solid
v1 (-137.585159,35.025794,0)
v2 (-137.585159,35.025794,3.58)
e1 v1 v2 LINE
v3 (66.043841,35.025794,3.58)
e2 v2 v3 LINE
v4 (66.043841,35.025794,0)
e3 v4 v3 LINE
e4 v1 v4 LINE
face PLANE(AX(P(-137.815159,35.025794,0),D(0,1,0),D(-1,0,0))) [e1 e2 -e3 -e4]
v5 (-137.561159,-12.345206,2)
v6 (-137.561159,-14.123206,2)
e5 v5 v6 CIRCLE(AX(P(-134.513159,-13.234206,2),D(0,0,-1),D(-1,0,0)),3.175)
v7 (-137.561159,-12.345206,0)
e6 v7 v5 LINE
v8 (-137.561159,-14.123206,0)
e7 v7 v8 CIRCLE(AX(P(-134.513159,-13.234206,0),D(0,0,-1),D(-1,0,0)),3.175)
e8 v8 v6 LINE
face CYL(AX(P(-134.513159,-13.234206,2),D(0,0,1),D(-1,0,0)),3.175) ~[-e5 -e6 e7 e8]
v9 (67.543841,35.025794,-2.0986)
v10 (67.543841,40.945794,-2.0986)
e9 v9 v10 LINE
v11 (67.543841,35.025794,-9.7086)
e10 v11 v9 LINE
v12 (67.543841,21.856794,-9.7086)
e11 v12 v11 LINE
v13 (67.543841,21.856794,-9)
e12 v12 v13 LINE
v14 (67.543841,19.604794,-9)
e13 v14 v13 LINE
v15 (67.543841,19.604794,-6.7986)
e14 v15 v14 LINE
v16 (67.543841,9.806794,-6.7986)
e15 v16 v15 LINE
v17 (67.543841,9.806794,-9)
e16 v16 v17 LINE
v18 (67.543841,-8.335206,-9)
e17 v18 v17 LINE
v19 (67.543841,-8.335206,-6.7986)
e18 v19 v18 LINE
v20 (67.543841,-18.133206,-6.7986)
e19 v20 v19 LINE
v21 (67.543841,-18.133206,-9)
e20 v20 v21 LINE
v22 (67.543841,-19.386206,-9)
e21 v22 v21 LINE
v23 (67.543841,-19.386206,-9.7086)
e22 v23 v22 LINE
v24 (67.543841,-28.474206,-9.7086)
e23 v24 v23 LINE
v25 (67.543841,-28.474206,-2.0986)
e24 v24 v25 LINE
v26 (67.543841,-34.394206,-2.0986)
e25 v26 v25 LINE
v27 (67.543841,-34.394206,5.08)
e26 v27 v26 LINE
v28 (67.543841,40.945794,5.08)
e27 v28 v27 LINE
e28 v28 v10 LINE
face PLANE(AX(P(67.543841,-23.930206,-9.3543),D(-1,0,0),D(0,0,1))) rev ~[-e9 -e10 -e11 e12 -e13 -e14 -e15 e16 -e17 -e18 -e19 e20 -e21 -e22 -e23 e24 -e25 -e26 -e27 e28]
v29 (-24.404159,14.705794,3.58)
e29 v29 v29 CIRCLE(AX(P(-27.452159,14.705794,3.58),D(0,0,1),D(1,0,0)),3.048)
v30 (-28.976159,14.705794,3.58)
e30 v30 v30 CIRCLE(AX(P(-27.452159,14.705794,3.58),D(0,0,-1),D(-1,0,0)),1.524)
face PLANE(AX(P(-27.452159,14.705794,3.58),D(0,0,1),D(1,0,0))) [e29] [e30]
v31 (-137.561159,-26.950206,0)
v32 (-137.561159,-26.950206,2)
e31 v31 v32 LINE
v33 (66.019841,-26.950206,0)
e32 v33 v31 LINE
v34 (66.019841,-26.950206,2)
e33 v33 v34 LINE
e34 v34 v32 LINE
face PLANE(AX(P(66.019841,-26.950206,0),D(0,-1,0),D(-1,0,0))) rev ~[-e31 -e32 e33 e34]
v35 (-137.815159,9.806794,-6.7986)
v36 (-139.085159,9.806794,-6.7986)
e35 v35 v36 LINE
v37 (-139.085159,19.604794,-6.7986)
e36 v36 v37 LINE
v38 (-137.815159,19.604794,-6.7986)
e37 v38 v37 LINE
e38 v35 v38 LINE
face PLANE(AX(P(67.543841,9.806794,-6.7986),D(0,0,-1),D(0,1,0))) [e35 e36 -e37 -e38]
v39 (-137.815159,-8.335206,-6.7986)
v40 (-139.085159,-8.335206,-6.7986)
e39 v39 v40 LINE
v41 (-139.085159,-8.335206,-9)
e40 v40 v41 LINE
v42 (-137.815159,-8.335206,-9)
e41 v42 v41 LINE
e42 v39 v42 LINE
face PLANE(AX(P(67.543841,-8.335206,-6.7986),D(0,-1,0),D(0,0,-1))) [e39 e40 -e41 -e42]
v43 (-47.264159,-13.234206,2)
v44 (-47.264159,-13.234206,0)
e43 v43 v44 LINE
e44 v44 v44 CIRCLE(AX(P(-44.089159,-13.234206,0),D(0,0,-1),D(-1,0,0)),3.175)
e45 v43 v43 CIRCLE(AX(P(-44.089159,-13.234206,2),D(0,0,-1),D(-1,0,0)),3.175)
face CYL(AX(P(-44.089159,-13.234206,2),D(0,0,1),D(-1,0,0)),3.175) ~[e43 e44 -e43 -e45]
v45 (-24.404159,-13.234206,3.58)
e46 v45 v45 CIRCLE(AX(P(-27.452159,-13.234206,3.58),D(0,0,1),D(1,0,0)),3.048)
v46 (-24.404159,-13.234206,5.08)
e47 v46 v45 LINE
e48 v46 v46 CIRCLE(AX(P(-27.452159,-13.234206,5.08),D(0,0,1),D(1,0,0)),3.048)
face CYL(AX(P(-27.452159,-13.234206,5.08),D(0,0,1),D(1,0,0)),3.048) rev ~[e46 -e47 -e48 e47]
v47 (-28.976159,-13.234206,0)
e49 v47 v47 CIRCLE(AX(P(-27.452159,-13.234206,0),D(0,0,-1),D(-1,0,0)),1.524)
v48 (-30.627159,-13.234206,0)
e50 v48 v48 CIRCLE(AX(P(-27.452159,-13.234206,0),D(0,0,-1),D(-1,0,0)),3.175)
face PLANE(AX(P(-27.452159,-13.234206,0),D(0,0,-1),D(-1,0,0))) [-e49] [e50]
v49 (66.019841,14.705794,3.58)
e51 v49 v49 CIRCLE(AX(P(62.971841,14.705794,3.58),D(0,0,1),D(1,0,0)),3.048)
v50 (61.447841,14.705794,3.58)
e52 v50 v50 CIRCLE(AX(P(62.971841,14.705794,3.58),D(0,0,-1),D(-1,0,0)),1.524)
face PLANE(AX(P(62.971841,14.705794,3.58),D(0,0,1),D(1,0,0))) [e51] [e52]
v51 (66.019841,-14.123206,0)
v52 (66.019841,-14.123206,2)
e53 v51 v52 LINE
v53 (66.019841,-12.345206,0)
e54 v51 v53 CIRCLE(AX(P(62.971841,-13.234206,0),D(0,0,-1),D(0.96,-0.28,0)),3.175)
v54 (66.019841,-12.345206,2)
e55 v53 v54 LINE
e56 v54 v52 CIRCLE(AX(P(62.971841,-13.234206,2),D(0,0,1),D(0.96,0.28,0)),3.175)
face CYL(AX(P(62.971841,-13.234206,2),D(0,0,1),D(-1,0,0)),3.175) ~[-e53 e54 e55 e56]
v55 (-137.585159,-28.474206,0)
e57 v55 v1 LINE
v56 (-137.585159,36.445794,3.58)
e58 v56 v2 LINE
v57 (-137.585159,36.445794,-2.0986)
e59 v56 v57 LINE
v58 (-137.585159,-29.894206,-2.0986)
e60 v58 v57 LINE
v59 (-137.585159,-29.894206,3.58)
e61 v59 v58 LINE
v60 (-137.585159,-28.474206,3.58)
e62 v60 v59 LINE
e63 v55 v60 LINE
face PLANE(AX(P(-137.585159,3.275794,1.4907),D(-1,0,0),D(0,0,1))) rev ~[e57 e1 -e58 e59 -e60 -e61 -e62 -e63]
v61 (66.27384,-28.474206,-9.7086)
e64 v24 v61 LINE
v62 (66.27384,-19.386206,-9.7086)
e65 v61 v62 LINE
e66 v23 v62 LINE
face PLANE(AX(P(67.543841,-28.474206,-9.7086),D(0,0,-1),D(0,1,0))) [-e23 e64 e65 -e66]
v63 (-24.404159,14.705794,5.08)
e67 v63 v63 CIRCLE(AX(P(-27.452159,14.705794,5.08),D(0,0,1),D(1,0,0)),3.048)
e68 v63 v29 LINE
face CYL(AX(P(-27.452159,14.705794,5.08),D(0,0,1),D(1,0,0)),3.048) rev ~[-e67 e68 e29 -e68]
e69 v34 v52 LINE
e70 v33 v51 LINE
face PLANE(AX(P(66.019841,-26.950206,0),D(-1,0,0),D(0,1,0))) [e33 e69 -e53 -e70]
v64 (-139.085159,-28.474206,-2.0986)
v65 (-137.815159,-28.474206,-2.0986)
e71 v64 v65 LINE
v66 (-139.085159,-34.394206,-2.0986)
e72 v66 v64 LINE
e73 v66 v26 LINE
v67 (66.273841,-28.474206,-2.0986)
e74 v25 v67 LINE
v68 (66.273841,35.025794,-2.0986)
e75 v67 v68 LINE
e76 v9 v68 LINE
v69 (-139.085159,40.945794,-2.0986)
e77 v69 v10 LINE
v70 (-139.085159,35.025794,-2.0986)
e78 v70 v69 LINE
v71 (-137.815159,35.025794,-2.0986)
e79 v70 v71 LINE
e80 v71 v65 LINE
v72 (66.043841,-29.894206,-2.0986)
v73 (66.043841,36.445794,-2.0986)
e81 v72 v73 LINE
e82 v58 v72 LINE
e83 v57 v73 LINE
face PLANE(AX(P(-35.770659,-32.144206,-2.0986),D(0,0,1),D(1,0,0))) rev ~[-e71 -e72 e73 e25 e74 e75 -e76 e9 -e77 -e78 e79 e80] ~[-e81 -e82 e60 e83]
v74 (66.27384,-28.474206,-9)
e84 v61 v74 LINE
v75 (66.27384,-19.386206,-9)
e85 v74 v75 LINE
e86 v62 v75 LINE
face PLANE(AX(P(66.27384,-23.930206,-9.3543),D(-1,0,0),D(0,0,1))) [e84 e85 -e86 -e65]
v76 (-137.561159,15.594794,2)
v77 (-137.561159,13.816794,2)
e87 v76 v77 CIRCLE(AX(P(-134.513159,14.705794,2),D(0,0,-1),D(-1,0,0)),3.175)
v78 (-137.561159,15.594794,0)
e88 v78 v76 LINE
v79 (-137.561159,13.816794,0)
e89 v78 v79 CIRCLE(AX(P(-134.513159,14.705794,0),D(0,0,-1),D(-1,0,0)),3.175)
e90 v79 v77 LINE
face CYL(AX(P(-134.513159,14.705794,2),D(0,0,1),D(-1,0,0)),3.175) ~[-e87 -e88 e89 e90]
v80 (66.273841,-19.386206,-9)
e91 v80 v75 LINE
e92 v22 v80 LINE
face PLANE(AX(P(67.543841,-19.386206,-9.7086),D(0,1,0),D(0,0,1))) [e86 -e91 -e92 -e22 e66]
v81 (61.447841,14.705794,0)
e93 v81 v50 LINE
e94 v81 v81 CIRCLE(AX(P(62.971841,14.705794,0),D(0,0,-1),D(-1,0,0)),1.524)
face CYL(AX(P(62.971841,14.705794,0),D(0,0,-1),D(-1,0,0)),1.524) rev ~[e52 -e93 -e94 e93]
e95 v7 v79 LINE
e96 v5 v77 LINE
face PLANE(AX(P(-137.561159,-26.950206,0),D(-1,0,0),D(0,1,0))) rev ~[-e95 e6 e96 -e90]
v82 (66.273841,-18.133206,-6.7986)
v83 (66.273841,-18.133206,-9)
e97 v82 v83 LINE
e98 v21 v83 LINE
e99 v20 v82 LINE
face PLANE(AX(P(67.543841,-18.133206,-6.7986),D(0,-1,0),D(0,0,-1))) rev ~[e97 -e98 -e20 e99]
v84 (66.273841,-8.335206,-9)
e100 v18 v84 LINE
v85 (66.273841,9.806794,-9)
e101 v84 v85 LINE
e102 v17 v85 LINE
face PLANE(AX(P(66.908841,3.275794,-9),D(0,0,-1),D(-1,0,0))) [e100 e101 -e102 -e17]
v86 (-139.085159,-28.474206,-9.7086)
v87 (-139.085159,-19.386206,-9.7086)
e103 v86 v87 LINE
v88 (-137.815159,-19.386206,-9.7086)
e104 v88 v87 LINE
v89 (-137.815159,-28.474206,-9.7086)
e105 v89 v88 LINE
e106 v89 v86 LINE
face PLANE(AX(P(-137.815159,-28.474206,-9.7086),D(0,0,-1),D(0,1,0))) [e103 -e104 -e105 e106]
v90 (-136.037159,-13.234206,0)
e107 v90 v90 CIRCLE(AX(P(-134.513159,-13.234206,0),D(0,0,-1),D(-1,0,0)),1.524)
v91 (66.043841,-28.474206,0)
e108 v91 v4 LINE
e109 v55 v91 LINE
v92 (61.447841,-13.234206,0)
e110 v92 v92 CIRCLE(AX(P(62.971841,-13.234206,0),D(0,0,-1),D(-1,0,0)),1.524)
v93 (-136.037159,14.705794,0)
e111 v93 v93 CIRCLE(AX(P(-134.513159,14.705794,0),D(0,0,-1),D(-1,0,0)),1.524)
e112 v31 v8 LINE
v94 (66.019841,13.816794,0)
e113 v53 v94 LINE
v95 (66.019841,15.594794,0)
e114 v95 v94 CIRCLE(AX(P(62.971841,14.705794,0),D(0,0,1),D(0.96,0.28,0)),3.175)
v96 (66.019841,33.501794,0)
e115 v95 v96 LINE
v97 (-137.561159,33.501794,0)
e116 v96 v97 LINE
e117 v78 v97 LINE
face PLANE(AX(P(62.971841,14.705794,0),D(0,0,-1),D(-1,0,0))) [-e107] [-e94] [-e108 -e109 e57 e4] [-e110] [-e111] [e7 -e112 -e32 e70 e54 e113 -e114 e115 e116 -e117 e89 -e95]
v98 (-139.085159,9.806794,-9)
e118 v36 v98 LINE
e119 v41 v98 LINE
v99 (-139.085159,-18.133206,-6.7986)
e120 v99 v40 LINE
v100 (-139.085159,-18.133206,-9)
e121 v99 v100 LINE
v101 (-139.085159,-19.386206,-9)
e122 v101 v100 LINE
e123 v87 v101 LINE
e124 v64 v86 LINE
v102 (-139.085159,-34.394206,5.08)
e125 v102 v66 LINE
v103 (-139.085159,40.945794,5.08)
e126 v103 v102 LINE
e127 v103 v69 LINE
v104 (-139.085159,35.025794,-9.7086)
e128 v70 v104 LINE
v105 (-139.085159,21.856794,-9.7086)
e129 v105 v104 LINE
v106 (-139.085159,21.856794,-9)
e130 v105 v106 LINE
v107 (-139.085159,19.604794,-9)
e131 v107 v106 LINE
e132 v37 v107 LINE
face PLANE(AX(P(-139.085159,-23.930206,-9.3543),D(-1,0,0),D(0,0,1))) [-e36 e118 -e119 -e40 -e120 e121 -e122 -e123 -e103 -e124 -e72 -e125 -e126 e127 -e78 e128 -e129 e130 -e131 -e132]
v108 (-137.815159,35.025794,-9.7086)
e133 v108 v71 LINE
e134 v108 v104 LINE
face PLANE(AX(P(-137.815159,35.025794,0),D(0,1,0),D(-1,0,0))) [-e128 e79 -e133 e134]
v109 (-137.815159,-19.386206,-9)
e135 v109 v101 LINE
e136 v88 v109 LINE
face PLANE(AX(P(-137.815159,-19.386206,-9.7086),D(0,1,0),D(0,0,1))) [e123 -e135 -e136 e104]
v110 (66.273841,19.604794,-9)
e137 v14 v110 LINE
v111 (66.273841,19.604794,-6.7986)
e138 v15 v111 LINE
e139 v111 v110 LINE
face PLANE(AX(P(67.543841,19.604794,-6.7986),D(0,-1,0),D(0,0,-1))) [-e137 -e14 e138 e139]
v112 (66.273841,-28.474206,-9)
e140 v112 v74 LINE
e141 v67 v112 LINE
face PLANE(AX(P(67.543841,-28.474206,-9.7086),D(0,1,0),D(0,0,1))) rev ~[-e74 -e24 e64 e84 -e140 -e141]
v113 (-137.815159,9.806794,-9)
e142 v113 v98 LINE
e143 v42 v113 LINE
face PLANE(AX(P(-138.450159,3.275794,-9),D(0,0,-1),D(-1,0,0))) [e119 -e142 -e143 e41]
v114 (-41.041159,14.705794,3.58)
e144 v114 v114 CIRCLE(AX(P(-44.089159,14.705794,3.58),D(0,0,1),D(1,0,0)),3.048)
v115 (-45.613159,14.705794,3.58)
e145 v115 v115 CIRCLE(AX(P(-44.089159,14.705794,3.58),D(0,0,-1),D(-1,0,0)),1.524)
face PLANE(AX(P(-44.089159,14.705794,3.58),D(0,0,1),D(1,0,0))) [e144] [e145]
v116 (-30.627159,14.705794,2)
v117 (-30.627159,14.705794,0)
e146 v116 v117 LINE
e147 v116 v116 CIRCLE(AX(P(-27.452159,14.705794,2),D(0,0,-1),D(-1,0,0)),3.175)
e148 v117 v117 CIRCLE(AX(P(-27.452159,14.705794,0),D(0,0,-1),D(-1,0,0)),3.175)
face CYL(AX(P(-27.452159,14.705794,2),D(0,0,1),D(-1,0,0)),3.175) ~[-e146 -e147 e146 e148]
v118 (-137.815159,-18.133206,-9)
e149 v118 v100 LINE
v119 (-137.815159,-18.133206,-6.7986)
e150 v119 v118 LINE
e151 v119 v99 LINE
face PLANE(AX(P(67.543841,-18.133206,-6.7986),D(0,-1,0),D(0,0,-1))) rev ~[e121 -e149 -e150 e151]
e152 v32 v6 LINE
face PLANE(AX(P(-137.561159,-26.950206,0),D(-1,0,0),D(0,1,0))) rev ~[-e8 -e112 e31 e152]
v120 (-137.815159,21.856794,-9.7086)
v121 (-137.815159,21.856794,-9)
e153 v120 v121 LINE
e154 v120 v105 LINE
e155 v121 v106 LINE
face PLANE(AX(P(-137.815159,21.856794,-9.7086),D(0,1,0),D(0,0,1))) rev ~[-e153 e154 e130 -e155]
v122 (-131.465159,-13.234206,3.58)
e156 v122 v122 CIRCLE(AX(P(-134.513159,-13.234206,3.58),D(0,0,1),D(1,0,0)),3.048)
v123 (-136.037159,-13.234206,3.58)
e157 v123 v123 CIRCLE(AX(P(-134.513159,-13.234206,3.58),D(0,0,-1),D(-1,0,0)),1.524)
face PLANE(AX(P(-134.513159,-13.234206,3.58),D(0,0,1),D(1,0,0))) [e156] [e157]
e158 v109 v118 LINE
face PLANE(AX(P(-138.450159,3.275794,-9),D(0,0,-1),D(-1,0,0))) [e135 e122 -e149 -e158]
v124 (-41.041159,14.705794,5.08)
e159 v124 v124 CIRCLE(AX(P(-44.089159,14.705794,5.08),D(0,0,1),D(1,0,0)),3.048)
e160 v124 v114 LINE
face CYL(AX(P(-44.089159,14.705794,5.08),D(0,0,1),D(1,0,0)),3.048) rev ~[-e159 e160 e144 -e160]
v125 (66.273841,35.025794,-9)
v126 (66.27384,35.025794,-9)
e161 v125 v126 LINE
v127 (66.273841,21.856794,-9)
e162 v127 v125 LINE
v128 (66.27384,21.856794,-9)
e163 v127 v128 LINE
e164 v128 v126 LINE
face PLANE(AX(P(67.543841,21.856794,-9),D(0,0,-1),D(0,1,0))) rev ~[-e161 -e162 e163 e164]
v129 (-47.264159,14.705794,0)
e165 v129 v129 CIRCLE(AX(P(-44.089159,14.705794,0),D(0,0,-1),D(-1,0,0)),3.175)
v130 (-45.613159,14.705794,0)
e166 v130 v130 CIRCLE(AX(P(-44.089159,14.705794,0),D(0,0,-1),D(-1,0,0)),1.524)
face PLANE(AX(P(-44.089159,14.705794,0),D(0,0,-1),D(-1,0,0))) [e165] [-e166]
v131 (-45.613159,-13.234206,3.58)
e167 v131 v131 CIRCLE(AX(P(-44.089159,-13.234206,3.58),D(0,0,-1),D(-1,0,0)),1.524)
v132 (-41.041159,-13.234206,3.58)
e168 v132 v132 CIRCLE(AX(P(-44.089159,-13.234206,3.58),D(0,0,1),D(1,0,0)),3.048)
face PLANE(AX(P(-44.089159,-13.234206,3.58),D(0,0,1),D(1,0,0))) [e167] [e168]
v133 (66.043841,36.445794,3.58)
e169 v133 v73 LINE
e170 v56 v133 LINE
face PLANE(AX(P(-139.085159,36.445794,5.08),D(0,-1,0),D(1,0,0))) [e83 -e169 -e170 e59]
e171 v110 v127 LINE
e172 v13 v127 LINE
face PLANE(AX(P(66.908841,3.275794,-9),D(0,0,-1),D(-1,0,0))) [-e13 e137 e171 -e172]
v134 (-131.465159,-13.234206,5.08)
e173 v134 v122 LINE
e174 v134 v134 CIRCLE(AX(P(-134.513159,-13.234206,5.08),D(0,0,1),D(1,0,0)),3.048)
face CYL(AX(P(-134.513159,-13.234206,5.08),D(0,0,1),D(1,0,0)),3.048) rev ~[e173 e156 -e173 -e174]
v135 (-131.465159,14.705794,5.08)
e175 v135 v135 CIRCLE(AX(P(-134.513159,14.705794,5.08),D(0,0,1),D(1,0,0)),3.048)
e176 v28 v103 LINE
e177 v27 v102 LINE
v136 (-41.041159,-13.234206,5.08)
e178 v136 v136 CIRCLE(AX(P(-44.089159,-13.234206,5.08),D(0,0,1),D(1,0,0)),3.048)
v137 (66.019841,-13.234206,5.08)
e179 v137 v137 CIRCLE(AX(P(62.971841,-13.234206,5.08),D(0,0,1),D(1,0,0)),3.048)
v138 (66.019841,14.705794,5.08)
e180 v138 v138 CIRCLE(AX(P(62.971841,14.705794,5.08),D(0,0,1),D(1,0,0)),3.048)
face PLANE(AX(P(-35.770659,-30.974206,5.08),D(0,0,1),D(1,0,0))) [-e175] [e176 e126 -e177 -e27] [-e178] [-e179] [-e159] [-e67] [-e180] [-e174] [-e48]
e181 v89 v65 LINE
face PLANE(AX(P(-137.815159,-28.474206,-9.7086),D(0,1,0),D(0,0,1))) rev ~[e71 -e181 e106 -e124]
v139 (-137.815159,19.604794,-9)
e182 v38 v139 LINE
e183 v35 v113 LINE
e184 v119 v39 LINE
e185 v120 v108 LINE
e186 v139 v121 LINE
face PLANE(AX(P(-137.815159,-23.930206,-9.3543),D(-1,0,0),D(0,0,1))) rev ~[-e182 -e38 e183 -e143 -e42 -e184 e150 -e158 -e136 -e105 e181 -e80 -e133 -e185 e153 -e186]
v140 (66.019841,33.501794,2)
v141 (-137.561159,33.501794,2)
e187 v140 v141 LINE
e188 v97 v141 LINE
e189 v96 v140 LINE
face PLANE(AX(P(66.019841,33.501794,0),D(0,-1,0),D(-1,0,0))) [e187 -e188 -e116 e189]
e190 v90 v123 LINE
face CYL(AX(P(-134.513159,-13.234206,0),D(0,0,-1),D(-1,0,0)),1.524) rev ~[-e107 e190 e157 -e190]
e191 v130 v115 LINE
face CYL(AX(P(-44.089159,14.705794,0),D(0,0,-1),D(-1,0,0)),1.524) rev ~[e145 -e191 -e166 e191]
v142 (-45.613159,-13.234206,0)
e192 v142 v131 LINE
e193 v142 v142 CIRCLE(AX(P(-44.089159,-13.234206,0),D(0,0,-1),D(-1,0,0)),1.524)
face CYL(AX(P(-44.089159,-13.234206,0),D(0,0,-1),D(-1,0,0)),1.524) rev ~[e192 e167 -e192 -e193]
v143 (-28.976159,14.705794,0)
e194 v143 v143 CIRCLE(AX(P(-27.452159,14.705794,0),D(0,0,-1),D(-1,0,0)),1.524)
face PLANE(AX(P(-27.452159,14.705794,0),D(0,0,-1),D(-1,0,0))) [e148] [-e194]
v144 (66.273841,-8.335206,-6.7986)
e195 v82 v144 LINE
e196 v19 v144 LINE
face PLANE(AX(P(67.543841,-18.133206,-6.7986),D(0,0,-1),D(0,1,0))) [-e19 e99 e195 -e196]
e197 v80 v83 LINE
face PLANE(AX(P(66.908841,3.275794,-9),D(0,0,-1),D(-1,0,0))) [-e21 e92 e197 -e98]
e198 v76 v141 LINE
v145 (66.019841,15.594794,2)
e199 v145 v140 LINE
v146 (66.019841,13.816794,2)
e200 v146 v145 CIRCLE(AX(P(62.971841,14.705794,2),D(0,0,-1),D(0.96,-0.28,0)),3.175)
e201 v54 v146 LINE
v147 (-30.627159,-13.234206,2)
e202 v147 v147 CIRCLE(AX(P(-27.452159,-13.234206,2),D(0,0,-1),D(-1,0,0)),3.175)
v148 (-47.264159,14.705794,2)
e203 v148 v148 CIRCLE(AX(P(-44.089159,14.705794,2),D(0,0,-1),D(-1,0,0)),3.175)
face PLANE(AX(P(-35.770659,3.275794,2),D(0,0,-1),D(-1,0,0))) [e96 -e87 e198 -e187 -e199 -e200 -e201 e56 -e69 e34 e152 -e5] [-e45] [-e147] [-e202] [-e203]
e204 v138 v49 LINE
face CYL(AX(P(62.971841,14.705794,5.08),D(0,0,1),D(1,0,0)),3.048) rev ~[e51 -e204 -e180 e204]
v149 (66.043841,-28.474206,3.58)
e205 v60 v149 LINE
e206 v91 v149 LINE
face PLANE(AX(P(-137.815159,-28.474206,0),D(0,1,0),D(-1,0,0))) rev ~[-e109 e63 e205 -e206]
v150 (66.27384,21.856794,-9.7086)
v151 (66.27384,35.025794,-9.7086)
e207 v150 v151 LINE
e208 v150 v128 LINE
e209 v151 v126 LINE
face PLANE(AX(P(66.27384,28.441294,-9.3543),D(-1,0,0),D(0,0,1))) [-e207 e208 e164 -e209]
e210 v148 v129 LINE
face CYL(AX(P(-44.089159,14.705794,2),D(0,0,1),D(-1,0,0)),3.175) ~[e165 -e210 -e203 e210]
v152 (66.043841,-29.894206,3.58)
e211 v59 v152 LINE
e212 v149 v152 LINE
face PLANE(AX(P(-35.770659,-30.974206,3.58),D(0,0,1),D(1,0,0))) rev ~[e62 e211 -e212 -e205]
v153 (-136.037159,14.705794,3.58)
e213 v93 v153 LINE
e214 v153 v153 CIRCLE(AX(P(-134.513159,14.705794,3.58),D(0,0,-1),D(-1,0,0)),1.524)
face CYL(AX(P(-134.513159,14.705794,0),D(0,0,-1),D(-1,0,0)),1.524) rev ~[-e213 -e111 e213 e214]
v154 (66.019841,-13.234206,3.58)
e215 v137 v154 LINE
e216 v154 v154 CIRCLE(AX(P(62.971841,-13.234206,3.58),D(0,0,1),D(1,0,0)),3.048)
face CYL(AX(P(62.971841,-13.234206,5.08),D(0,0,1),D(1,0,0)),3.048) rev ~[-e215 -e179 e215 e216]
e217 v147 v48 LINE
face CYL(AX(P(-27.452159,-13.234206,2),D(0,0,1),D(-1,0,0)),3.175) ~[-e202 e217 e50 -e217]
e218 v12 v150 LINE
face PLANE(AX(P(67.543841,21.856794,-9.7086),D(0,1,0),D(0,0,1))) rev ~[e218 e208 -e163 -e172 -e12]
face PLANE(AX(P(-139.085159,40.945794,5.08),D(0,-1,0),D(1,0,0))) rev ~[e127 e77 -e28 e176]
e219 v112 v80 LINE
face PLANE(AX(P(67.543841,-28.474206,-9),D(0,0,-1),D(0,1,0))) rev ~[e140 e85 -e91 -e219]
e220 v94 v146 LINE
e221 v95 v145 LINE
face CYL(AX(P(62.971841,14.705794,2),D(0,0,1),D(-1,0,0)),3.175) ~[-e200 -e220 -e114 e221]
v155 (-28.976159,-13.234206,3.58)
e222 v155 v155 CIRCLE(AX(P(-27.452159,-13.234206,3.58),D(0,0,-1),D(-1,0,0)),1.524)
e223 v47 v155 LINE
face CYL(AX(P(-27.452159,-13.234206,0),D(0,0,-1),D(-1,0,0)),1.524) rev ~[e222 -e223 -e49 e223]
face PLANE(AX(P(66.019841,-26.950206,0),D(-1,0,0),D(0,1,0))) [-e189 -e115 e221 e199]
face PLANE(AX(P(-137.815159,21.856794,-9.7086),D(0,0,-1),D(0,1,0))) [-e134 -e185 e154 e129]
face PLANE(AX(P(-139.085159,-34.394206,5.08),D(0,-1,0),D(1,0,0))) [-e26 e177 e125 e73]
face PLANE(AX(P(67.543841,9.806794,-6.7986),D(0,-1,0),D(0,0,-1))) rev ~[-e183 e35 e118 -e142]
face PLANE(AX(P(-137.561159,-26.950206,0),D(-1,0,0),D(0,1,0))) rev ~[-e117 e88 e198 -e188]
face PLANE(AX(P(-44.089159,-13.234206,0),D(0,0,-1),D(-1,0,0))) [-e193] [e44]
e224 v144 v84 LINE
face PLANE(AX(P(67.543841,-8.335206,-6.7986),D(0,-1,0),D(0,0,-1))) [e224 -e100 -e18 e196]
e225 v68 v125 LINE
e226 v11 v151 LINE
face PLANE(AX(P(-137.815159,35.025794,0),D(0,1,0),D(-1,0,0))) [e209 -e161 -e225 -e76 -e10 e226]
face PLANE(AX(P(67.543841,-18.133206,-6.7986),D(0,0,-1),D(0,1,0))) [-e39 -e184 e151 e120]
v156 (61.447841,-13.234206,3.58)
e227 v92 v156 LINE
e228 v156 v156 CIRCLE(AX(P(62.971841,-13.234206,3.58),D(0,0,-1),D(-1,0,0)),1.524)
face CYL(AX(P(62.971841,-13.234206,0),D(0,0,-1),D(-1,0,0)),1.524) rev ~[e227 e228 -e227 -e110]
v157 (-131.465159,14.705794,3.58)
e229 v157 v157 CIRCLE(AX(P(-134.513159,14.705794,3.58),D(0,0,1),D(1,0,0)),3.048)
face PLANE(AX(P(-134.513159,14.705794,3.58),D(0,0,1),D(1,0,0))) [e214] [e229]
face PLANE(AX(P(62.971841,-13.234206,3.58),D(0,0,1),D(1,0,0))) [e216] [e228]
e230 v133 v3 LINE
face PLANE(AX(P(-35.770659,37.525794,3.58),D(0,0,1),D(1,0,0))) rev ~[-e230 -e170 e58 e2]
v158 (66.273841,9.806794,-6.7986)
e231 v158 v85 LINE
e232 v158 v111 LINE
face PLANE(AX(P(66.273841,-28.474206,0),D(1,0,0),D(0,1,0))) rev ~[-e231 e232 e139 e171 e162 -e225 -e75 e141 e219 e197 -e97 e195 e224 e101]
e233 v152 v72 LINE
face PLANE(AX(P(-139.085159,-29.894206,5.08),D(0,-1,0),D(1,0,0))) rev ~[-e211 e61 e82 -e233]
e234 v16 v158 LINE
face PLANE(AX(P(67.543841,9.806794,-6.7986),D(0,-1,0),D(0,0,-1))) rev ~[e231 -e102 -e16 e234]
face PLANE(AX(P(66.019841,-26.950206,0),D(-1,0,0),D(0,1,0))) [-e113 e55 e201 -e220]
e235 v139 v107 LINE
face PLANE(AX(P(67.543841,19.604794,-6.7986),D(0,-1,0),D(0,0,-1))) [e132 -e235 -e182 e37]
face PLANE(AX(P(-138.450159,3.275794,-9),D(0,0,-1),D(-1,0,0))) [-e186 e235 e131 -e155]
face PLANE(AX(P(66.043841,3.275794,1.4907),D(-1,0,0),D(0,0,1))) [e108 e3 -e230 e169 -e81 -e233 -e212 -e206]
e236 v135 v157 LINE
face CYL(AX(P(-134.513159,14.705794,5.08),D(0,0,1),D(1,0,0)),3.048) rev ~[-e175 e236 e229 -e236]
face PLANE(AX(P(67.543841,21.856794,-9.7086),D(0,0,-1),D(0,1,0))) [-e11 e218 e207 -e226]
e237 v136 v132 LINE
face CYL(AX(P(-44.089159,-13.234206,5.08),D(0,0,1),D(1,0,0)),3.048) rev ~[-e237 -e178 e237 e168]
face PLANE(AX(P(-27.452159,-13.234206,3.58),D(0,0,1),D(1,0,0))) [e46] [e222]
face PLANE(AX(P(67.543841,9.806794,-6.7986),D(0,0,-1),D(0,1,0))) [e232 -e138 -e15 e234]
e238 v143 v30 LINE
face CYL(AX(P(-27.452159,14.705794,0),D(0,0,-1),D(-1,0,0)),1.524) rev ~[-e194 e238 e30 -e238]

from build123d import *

# Parameters (mm, degrees)
SKETCH1_W                      = 206.629
SKETCH1_H                      = 63.5
BASE_DEPTH                     = 5.08
SKETCH2_W                      = 203.581
SKETCH2_H                      = 60.452
HOLLOW_DEPTH                   = 2.000000064
SKETCH3_W                      = 1.27
SKETCH3_H                      = 63.5
END_PIECES_DEPTH               = 9.000000034
SKETCH7_W                      = 2.201400112
SKETCH7_H                      = 9.798
WHERE_TOP_INTRUDES_DEPTH       = 210.769754403
CABLE_STOP_WINGS_ALT_W         = 206.629
CABLE_STOP_WINGS_ALT_H         = 5
CABLE_STOP_WING_BOSS_ALT_DEPTH = 1.500000048
SKETCH4_R                      = 3.175
SCREW_BOSSES_DEPTH             = 2.000000064
SKETCH5_R                      = 1.524
SCREW_HOLES_DEPTH              = 146.00946706
SKETCH6_R                      = 3.048
COUNTER_SINK_DEPTH             = 1.500000048
SKETCH25_W                     = 206.629
SKETCH25_H                     = 4.5
BOX_UNDER_CONNECTORS_DEPTH     = 7.1786
SKETCH26_W                     = 7.1786
SKETCH26_H                     = 75.34
FILL_ENDS_DEPTH                = 1.5
FILL_START                     = -206.629
SKETCH26_2_W                   = 7.1786
SKETCH26_2_H                   = 75.34
FILL_THE_OTHER_END_DEPTH       = 1.5
BOSS_EXTRUDE4_START            = -1.27
SKETCH27_W                     = 0.708599966
SKETCH27_H                     = 9.088
SKETCH27_H_2                   = 13.169
BOSS_EXTRUDE4_DEPTH            = 1.27
BOSS_EXTRUDE5_START            = -206.629
SKETCH27_2_W                   = 0.708599966
SKETCH27_2_H                   = 9.088
SKETCH27_2_H_2                 = 13.169
BOSS_EXTRUDE5_DEPTH            = 1.270001


with BuildPart() as part:
    # Sketch1 → base (new body)
    with BuildSketch(Plane.XY):
        with Locations((-35.77065873, 3.275793651)):
            Rectangle(SKETCH1_W, SKETCH1_H)
    extrude(amount=BASE_DEPTH)

    # Sketch2 → hollow (cut)
    with BuildSketch(Plane(origin=(0, 0, 0), x_dir=(-1, 0, 0), z_dir=(0, 0, -1))):
        with Locations((35.77065873, 3.275793651)):
            Rectangle(SKETCH2_W, SKETCH2_H)
    extrude(amount=-HOLLOW_DEPTH, mode=Mode.SUBTRACT)

    # Sketch3 → end pieces (add)
    with BuildSketch(Plane(origin=(0, 0, 0), x_dir=(-1, 0, 0), z_dir=(0, 0, -1))):
        with Locations((138.45015873, 3.275793651)):
            Rectangle(SKETCH3_W, SKETCH3_H)
        with Locations((-66.90884127, 3.275793651)):
            Rectangle(SKETCH3_W, SKETCH3_H)
    extrude(amount=END_PIECES_DEPTH)

    # Sketch7 → where top intrudes (cut, through all)
    with BuildSketch(Plane(origin=(67.54384127, 0, 0), x_dir=(0, 0, -1), z_dir=(1, 0, 0))):
        with Locations((7.899299978, 14.705793651)):
            Rectangle(SKETCH7_W, SKETCH7_H)
        with Locations((7.899299978, -13.234206349)):
            Rectangle(SKETCH7_W, SKETCH7_H)
    extrude(amount=-WHERE_TOP_INTRUDES_DEPTH, mode=Mode.SUBTRACT)

    # cable stop wings alt → cable stop wing boss alt (add)
    with BuildSketch(Plane.XY.offset(5.08)):
        with Locations((-35.77065873, -30.974206349)):
            Rectangle(CABLE_STOP_WINGS_ALT_W, CABLE_STOP_WINGS_ALT_H)
        with Locations((-35.77065873, 37.525793651)):
            Rectangle(CABLE_STOP_WINGS_ALT_W, CABLE_STOP_WINGS_ALT_H)
    extrude(amount=-CABLE_STOP_WING_BOSS_ALT_DEPTH)

    # Sketch4 → screw bosses (add)
    with BuildSketch(Plane(origin=(0, 0, 2.000000064), x_dir=(-1, 0, 0), z_dir=(0, 0, -1))):
        with Locations((-62.97184127, 14.705793651)):
            Circle(SKETCH4_R)
        with Locations((-62.97184127, -13.234206349)):
            Circle(SKETCH4_R)
        with Locations((27.45215873, -13.234206349)):
            Circle(SKETCH4_R)
        with Locations((44.08915873, -13.234206349)):
            Circle(SKETCH4_R)
        with Locations((27.45215873, 14.705793651)):
            Circle(SKETCH4_R)
        with Locations((44.08915873, 14.705793651)):
            Circle(SKETCH4_R)
        with Locations((134.51315873, 14.705793651)):
            Circle(SKETCH4_R)
        with Locations((134.51315873, -13.234206349)):
            Circle(SKETCH4_R)
    extrude(amount=SCREW_BOSSES_DEPTH)

    # Sketch5 → screw holes (cut, through all)
    with BuildSketch(Plane(origin=(0, 0, 0), x_dir=(-1, 0, 0), z_dir=(0, 0, -1))):
        with Locations((-62.97184127, 14.705793651)):
            Circle(SKETCH5_R)
        with Locations((-62.97184127, -13.234206349)):
            Circle(SKETCH5_R)
        with Locations((27.45215873, 14.705793651)):
            Circle(SKETCH5_R)
        with Locations((27.45215873, -13.234206349)):
            Circle(SKETCH5_R)
        with Locations((44.08915873, -13.234206349)):
            Circle(SKETCH5_R)
        with Locations((134.51315873, 14.705793651)):
            Circle(SKETCH5_R)
        with Locations((134.51315873, -13.234206349)):
            Circle(SKETCH5_R)
        with Locations((44.08915873, 14.705793651)):
            Circle(SKETCH5_R)
    extrude(amount=-SCREW_HOLES_DEPTH, mode=Mode.SUBTRACT)

    # Sketch6 → counter sink (cut)
    with BuildSketch(Plane.XY.offset(5.08)):
        with Locations((62.97184127, -13.234206349)):
            Circle(SKETCH6_R)
        with Locations((62.97184127, 14.705793651)):
            Circle(SKETCH6_R)
        with Locations((-27.45215873, -13.234206349)):
            Circle(SKETCH6_R)
        with Locations((-44.08915873, -13.234206349)):
            Circle(SKETCH6_R)
        with Locations((-27.45215873, 14.705793651)):
            Circle(SKETCH6_R)
        with Locations((-44.08915873, 14.705793651)):
            Circle(SKETCH6_R)
        with Locations((-134.51315873, 14.705793651)):
            Circle(SKETCH6_R)
        with Locations((-134.51315873, -13.234206349)):
            Circle(SKETCH6_R)
    extrude(amount=-COUNTER_SINK_DEPTH, mode=Mode.SUBTRACT)

    # Sketch25 → box under connectors (add)
    with BuildSketch(Plane.XY.offset(5.08)):
        with Locations((-35.77065873, 38.695793651)):
            Rectangle(SKETCH25_W, SKETCH25_H)
        with Locations((-35.77065873, -32.144206349)):
            Rectangle(SKETCH25_W, SKETCH25_H)
    extrude(amount=-BOX_UNDER_CONNECTORS_DEPTH)

    # Sketch26 → Fill ends (add)
    with BuildSketch(Plane.ZY.offset(139.08515873)):
        with Locations((1.4907, 3.275793651)):
            Rectangle(SKETCH26_W, SKETCH26_H)
    extrude(amount=-FILL_ENDS_DEPTH)

    # Sketch26<2> → Fill the other end (add)
    with BuildSketch(Plane.ZY.offset(139.08515873).offset(FILL_START)):
        with Locations((1.4907, 3.275793651)):
            Rectangle(SKETCH26_2_W, SKETCH26_2_H)
    extrude(amount=FILL_THE_OTHER_END_DEPTH)

    # Sketch27 → Boss-Extrude4 (add)
    with BuildSketch(Plane.ZY.offset(139.08515873).offset(BOSS_EXTRUDE4_START)):
        with Locations((-9.354300017, -23.930206349)):
            Rectangle(SKETCH27_W, SKETCH27_H)
        with Locations((-9.354300017, 28.441293651)):
            Rectangle(SKETCH27_W, SKETCH27_H_2)
    extrude(amount=BOSS_EXTRUDE4_DEPTH)

    # Sketch27<2> → Boss-Extrude5 (add)
    with BuildSketch(Plane.ZY.offset(139.08515873).offset(BOSS_EXTRUDE5_START)):
        with Locations((-9.354300017, -23.930206349)):
            Rectangle(SKETCH27_2_W, SKETCH27_2_H)
        with Locations((-9.354300017, 28.441293651)):
            Rectangle(SKETCH27_2_W, SKETCH27_2_H_2)
    extrude(amount=BOSS_EXTRUDE5_DEPTH)


solid = part.part
